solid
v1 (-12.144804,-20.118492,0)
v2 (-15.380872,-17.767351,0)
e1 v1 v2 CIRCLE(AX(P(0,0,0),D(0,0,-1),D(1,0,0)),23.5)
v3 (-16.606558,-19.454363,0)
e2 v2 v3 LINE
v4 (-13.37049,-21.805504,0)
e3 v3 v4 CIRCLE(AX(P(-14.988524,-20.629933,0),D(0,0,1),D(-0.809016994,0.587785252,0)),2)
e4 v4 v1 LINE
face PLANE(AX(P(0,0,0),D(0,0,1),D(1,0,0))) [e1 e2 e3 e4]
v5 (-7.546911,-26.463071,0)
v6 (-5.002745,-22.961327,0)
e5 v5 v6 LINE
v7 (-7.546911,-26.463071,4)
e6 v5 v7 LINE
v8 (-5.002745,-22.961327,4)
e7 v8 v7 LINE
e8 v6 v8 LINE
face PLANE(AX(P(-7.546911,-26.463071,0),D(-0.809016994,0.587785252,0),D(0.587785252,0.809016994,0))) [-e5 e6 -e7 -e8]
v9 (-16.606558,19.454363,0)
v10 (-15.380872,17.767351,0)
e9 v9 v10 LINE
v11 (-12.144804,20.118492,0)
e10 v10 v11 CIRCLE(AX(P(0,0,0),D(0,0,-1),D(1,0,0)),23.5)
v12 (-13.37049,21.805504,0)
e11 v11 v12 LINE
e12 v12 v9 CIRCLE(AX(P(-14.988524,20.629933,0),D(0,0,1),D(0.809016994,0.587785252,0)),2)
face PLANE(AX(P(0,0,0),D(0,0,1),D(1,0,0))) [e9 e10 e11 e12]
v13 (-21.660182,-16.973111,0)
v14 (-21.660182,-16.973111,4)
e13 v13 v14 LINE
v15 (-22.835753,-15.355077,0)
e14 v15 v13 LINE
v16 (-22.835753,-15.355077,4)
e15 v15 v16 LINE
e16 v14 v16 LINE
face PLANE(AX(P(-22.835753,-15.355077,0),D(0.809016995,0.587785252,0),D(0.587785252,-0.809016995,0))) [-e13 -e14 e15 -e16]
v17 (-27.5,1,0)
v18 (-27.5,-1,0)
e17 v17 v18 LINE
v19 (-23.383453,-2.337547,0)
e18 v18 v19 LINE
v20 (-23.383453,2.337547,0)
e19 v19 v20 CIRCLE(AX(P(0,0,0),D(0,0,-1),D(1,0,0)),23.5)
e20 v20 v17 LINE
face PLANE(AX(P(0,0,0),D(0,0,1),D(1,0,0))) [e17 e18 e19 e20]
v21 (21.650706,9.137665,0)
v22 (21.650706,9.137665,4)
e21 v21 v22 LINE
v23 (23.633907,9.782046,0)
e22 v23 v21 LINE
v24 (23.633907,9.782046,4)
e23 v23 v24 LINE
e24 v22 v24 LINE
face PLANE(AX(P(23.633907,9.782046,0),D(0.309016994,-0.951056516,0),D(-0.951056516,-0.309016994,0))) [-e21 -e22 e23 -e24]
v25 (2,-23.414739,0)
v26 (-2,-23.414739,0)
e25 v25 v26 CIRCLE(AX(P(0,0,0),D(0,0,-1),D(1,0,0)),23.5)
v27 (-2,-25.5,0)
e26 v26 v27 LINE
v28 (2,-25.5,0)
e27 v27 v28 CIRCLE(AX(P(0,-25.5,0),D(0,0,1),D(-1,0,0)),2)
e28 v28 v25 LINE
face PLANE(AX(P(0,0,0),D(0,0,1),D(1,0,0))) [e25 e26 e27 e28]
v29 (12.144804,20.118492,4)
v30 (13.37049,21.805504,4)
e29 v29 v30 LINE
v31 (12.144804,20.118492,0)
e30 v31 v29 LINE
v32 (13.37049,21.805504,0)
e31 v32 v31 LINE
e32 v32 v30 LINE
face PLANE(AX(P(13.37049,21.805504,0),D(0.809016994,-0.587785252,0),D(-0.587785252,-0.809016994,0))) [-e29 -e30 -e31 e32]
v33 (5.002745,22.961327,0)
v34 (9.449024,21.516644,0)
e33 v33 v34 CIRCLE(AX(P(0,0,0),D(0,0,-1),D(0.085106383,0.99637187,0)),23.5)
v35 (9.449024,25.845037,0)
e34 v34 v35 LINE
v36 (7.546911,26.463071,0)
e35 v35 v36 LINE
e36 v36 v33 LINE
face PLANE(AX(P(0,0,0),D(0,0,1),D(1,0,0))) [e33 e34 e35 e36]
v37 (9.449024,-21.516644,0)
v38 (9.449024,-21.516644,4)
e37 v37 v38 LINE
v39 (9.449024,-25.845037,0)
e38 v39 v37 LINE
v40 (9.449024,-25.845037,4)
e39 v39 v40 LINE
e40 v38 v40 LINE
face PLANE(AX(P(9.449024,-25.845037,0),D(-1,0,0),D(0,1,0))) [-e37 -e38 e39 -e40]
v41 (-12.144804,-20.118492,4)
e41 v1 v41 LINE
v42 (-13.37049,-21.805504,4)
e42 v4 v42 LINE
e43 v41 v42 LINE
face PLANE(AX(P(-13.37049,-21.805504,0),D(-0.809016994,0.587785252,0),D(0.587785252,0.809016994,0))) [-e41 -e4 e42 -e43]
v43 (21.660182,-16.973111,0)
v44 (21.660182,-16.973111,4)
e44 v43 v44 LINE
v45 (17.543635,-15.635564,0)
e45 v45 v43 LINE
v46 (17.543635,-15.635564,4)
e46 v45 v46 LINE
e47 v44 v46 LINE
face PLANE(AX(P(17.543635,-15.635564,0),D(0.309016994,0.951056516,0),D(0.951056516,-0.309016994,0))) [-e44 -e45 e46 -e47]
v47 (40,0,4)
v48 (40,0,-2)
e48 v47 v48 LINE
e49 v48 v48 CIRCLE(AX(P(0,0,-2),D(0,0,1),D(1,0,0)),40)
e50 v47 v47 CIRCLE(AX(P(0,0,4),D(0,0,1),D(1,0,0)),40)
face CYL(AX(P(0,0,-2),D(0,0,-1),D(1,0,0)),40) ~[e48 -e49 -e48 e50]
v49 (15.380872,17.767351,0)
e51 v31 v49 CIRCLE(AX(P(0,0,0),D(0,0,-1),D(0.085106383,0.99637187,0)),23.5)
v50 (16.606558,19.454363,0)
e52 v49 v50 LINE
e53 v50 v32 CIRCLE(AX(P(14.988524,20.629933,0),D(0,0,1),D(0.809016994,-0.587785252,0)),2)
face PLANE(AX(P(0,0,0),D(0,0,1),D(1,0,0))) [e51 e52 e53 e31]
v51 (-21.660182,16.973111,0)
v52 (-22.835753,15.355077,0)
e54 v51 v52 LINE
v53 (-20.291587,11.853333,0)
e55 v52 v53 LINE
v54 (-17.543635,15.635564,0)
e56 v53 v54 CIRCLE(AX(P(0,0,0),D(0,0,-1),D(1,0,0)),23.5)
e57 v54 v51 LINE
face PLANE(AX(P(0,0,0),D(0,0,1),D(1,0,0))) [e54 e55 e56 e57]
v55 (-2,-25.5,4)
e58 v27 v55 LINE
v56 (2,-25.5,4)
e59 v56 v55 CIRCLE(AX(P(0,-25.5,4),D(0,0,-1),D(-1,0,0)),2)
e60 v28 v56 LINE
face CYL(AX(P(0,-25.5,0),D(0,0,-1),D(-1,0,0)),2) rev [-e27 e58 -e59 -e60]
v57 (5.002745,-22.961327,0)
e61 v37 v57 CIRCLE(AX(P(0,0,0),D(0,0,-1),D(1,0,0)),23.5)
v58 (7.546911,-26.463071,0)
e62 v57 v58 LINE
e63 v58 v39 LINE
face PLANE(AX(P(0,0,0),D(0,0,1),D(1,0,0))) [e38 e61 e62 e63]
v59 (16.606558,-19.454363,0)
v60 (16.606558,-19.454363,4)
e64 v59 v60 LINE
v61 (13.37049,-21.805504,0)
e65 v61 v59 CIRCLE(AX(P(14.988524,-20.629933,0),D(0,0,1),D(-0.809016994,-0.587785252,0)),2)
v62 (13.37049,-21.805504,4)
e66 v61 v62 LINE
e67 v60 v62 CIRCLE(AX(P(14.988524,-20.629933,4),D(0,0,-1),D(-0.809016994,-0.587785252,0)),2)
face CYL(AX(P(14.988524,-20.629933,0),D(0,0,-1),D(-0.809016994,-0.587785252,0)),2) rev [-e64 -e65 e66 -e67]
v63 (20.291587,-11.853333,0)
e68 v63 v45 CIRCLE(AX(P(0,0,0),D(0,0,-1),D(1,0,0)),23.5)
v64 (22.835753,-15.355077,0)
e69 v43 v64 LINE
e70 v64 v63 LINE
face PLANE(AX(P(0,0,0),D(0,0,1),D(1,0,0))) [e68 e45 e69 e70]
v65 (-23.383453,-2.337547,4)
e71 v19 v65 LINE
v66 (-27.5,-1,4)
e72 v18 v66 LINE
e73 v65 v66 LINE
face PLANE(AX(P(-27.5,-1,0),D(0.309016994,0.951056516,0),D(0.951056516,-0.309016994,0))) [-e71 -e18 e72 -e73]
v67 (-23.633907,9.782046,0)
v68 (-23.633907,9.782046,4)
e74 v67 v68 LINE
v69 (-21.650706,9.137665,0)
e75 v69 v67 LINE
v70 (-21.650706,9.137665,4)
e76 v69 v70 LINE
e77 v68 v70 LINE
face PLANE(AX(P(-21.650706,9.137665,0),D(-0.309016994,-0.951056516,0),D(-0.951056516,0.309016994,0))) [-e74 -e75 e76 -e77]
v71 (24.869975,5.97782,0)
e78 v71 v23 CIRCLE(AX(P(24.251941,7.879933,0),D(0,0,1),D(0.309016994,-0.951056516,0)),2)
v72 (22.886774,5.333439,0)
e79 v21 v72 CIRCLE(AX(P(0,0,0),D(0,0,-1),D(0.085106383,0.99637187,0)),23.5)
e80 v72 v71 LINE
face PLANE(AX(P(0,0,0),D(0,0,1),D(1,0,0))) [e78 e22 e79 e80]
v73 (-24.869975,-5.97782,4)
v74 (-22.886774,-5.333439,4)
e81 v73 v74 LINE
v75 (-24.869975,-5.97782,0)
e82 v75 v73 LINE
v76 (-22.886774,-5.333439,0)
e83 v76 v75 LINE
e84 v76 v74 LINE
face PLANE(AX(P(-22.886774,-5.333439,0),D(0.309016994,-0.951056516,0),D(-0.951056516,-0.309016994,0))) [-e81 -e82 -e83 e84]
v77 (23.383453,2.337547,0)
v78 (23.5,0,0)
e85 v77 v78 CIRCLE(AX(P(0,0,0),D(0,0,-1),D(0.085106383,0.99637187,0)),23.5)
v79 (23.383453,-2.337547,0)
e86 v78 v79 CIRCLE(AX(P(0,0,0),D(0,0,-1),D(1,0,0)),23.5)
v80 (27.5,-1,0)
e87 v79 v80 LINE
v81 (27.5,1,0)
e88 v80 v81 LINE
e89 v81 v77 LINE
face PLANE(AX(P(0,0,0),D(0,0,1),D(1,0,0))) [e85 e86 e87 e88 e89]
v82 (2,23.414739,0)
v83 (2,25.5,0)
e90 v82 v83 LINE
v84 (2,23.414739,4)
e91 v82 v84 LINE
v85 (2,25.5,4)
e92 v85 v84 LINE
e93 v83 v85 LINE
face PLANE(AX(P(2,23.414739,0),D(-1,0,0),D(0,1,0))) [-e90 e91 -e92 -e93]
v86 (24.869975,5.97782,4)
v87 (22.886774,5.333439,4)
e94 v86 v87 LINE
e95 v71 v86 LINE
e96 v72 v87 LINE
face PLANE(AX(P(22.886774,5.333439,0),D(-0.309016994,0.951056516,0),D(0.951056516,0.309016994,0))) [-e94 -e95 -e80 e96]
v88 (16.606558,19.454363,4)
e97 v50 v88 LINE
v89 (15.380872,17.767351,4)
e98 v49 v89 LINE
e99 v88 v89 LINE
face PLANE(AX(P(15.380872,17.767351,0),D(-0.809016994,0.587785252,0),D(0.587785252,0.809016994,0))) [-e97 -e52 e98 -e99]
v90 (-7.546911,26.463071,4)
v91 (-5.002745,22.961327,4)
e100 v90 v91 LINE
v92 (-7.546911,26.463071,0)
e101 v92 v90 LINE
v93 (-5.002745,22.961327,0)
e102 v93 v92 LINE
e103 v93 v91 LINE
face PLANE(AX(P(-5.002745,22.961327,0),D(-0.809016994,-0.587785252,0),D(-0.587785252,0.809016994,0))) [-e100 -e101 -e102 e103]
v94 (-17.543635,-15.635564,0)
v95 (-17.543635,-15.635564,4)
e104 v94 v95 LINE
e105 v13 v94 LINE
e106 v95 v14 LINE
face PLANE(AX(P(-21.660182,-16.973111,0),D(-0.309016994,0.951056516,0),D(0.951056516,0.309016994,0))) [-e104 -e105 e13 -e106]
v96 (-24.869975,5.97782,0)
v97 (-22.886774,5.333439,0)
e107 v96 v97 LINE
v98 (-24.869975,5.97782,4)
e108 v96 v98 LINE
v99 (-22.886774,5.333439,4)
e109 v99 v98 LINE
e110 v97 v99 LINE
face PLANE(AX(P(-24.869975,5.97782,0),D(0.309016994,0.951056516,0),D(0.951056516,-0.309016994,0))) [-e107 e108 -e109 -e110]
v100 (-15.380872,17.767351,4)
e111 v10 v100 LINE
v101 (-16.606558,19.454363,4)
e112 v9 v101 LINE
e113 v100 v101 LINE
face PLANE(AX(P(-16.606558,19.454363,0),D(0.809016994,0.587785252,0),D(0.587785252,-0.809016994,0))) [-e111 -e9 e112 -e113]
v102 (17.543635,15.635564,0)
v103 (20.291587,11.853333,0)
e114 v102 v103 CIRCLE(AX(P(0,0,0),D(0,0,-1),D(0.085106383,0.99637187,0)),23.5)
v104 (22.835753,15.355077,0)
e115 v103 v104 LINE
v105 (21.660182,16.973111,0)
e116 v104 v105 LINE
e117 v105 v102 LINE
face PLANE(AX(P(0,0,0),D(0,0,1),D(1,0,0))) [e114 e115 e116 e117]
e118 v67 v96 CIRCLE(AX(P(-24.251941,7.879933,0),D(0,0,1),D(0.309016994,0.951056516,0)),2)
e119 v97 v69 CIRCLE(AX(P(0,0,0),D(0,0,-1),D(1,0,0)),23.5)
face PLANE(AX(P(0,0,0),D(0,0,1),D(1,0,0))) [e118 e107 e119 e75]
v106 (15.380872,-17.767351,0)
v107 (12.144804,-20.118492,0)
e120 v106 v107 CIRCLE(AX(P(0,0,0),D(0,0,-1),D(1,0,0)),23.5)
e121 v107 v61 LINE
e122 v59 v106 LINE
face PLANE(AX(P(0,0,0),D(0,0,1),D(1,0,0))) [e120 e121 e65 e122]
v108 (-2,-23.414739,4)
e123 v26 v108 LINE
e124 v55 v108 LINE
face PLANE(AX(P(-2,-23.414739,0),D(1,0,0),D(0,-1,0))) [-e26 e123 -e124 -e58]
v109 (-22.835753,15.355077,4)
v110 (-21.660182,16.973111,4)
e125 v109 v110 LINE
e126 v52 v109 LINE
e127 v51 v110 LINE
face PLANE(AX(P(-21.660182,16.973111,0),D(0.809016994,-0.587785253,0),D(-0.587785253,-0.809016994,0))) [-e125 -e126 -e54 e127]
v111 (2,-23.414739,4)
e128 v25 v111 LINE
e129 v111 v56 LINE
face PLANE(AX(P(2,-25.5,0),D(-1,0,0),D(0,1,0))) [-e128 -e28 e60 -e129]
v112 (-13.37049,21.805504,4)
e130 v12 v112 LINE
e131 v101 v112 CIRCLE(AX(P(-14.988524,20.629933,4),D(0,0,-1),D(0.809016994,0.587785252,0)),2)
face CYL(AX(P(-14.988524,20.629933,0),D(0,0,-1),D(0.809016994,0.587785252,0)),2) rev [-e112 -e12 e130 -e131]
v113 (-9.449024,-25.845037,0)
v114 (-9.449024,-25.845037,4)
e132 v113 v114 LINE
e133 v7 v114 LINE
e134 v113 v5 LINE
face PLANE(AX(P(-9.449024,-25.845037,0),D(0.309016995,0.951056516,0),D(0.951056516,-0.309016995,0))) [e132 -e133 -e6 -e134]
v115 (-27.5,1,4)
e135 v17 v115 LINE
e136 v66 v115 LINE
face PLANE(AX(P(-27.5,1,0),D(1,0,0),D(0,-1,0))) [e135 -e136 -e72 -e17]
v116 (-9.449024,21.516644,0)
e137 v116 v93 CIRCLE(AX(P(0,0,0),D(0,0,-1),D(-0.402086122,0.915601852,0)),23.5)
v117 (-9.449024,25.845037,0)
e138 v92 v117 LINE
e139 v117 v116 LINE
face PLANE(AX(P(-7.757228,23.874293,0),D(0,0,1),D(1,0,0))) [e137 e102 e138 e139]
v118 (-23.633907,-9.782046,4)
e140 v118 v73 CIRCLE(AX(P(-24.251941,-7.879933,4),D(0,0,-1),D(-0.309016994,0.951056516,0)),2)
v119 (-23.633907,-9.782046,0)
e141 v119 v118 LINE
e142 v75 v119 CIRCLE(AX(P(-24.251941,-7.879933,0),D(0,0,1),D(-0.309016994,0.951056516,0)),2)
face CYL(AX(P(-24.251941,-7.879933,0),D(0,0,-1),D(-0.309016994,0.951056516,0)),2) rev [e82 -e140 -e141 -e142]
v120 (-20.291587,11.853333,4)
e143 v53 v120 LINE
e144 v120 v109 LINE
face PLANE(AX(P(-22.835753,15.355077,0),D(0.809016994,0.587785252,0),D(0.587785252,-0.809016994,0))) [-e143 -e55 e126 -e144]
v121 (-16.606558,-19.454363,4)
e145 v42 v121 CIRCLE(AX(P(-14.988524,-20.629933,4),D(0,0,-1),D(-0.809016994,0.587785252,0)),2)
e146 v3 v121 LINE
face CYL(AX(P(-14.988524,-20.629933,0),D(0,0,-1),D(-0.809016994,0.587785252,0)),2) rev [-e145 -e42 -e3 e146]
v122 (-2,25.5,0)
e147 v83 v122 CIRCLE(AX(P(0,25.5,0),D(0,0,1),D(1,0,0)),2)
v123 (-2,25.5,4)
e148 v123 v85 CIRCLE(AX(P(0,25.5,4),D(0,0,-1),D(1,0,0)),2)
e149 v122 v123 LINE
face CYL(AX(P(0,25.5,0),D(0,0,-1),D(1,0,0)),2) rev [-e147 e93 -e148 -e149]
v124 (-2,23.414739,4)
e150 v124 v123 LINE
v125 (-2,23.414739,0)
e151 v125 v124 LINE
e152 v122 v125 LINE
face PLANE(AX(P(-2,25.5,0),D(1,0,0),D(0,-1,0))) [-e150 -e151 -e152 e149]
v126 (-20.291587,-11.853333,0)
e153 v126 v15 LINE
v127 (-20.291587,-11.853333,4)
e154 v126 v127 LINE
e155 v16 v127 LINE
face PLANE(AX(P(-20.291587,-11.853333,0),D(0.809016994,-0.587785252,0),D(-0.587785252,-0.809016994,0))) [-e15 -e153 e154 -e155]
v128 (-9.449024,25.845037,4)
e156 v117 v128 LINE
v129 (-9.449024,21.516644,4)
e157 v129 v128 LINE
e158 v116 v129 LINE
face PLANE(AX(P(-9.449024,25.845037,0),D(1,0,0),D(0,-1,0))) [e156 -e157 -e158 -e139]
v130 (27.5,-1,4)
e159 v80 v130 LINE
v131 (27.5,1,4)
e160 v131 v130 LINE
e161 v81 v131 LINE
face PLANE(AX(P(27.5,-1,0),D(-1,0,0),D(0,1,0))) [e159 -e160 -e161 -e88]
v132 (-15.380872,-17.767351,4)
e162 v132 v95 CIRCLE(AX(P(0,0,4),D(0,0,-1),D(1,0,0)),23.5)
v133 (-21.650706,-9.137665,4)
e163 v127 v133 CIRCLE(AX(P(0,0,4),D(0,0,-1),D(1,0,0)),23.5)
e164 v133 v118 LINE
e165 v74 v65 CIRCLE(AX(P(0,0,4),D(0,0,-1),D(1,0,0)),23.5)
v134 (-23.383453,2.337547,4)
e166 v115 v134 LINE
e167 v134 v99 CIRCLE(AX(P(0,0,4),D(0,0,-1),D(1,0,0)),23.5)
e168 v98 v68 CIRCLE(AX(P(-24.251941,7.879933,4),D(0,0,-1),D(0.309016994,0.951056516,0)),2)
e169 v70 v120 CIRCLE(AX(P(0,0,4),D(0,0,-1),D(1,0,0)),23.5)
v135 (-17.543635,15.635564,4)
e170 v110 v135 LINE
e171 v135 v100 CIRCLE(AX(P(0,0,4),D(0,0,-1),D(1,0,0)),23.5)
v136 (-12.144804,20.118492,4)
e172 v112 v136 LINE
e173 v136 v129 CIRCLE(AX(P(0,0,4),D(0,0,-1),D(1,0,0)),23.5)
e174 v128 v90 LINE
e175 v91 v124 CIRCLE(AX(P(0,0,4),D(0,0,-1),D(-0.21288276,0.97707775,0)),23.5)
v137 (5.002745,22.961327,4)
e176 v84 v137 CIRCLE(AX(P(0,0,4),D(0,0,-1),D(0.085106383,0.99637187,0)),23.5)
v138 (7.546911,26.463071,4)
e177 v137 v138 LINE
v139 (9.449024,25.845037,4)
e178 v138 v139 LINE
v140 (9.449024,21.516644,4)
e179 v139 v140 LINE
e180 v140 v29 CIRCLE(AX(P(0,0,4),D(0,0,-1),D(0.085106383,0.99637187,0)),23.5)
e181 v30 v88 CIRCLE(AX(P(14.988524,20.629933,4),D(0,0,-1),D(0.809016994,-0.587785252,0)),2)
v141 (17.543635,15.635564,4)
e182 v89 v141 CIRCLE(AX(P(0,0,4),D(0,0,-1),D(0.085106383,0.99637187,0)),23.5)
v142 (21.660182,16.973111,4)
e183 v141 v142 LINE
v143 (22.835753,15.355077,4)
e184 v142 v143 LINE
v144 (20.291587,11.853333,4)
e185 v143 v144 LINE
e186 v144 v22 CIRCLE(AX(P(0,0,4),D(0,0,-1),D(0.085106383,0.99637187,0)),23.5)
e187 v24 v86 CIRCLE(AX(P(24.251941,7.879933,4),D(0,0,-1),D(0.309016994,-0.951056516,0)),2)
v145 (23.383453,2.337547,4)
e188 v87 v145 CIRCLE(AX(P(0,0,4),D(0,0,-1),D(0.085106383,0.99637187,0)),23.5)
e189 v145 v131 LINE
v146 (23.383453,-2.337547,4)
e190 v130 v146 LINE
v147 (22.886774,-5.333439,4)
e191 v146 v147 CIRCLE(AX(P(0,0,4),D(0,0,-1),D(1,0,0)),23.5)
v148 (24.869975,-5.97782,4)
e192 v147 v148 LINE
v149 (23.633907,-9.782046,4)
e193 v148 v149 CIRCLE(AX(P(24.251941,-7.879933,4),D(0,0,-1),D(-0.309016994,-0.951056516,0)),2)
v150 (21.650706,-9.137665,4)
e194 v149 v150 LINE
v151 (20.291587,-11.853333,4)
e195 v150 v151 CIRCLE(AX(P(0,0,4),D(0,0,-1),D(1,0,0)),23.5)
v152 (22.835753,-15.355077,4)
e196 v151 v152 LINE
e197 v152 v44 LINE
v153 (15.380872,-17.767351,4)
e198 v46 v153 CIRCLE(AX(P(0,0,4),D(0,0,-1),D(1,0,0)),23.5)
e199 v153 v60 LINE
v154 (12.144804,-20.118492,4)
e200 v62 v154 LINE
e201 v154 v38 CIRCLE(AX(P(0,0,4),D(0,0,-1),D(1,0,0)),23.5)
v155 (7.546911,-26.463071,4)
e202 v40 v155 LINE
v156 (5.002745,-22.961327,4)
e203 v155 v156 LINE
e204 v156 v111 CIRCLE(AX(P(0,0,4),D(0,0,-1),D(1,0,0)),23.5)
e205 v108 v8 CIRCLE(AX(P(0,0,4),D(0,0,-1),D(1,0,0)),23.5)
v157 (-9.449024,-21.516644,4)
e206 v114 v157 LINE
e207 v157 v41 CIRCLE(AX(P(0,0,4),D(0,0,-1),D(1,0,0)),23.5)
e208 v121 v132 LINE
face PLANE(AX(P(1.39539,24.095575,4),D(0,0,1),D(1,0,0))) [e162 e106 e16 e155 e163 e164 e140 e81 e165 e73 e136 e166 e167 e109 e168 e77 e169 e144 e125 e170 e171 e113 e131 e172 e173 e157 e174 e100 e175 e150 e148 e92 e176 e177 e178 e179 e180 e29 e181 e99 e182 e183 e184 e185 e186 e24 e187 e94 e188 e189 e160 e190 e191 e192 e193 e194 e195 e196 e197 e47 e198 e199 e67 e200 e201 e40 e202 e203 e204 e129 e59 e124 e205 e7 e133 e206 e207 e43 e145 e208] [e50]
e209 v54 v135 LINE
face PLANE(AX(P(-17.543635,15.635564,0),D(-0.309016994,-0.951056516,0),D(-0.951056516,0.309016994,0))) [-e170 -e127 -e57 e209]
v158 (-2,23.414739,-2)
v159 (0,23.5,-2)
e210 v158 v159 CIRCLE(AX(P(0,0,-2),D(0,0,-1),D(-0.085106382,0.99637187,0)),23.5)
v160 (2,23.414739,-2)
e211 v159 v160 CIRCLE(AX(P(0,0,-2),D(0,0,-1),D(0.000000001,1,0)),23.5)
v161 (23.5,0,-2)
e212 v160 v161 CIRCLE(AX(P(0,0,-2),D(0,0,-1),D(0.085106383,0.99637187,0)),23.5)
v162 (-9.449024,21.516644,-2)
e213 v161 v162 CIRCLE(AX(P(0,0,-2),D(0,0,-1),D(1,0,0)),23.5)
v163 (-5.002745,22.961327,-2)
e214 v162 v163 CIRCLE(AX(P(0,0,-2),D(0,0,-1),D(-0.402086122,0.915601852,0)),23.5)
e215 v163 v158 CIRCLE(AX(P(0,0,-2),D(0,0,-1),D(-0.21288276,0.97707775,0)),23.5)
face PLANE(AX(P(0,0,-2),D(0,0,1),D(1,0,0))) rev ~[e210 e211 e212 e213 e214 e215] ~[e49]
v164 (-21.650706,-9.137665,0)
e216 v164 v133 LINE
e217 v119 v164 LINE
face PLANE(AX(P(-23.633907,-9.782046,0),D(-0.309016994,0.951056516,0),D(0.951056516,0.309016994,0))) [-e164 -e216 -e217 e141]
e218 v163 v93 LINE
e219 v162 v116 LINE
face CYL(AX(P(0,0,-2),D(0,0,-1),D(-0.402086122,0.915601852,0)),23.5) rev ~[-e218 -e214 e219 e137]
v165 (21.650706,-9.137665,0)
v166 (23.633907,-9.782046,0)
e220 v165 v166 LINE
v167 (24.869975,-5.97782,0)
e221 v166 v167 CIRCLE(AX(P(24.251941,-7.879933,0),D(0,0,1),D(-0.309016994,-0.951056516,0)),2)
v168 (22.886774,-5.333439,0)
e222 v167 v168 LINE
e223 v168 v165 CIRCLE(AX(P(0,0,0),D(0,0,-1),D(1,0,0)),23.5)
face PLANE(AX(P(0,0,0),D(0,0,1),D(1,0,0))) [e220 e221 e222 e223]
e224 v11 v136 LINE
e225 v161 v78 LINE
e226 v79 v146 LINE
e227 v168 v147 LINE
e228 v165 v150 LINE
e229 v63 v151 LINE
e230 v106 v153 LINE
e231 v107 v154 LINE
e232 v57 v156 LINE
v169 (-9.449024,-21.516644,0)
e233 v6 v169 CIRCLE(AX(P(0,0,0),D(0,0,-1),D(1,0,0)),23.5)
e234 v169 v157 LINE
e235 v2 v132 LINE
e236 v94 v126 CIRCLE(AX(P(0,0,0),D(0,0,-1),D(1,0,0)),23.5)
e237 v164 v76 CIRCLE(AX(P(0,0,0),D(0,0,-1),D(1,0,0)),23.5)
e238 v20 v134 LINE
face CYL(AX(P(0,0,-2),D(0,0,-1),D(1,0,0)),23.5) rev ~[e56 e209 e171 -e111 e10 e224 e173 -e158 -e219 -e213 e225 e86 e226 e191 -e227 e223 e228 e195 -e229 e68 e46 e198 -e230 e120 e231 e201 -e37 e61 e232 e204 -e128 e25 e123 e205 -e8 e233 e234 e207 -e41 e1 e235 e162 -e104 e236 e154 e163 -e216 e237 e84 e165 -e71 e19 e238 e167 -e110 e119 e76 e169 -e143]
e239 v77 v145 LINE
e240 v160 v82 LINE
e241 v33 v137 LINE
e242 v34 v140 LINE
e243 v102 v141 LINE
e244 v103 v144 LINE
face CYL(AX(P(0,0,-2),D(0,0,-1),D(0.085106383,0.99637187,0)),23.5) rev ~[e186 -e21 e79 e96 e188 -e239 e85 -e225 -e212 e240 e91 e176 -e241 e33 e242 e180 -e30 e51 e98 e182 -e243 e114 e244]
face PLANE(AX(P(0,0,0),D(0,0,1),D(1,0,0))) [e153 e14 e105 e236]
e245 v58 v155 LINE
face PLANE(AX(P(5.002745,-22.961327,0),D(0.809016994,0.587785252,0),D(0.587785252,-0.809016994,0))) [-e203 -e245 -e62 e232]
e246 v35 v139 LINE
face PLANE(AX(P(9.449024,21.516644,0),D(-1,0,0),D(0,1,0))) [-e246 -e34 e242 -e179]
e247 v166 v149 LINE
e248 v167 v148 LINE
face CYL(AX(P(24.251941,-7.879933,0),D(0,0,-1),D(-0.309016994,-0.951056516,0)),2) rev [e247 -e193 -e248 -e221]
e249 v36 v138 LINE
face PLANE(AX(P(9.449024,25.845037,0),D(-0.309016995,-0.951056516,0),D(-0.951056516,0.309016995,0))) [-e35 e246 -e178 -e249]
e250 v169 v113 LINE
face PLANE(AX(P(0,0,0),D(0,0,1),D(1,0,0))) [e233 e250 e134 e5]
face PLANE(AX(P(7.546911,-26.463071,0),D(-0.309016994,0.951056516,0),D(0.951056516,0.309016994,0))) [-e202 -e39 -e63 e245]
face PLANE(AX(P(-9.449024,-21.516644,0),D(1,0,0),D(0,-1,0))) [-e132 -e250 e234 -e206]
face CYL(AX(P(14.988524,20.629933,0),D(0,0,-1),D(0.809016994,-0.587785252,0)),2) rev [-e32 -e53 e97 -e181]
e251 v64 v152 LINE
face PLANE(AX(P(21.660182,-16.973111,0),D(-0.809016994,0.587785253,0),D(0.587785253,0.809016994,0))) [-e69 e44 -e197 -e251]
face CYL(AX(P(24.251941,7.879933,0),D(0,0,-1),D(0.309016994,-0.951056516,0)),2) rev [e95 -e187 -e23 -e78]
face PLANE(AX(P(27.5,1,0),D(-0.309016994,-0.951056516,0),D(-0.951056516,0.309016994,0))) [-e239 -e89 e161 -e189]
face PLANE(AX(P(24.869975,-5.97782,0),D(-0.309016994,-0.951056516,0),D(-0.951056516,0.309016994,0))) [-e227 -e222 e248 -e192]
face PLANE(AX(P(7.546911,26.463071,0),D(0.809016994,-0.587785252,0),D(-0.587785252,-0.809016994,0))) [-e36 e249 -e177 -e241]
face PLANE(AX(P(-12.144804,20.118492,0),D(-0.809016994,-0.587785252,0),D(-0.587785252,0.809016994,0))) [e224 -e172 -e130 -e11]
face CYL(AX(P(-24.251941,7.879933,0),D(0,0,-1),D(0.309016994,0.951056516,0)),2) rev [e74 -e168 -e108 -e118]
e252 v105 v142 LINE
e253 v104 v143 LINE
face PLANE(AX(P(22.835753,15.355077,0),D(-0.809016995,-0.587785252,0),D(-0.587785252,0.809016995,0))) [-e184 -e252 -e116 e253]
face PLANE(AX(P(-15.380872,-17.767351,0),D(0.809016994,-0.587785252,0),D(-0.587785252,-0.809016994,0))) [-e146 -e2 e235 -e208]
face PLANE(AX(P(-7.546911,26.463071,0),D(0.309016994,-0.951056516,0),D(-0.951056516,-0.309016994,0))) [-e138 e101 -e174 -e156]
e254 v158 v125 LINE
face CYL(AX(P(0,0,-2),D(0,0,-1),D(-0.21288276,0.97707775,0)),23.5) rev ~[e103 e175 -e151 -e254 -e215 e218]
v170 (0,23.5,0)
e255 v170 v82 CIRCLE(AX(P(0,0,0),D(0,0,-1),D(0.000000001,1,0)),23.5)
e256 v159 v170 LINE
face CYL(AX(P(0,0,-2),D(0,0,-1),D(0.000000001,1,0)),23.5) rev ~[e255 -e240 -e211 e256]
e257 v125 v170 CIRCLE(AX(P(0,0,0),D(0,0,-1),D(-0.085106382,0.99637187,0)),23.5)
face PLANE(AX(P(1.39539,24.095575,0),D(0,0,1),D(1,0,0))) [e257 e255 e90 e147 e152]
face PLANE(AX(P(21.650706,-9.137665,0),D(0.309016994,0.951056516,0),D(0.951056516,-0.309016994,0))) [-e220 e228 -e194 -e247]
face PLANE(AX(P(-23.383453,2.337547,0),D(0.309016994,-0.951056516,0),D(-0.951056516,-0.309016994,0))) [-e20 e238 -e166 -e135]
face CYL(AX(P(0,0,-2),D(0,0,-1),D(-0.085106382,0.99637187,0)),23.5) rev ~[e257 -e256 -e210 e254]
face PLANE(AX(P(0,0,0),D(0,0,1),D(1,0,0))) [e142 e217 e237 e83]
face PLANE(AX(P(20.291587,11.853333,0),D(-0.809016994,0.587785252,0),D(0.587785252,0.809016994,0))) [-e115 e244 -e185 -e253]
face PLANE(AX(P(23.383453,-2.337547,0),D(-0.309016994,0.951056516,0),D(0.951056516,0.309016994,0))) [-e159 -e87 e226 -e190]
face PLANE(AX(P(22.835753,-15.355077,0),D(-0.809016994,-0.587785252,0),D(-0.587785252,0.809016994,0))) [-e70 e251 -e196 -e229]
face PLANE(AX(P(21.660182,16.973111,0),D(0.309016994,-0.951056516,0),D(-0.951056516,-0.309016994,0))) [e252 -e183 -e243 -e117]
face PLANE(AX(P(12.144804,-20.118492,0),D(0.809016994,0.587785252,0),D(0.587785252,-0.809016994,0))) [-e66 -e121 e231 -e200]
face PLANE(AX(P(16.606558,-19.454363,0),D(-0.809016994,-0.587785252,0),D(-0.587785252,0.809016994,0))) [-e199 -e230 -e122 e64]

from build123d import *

# Parameters (mm, degrees)
SKETCH2_R           = 40
SKETCH2_R_2         = 23.5
BOSS_EXTRUDE1_DEPTH = 4
CUT_EXTRUDE2_DEPTH  = 10
CIRPATTERN1_COUNT   = 10
BOSS_EXTRUDE2_START = -2
SKETCH2_4_R         = 40
SKETCH2_4_R_2       = 23.5
BOSS_EXTRUDE2_DEPTH = 2


with BuildPart() as part:
    # Sketch2 → Boss-Extrude1 (new body)
    with BuildSketch(Plane.XY):
        Circle(SKETCH2_R)
        Circle(SKETCH2_R_2, mode=Mode.SUBTRACT)
    extrude(amount=BOSS_EXTRUDE1_DEPTH)

    # Sketch2<3> → Cut-Extrude2 (cut)
    with BuildSketch(Plane.XY):
        with BuildLine():
            Line((-7.546910829, 26.463071192), (-9.449023862, 25.845037204))
            Line((-9.449023862, 25.845037204), (-9.449023862, 21.516643513))
            ThreePointArc((-9.449023862, 21.516643513), (-7.261899368, 22.349828133), (-5.002744851, 22.961327138))
            Line((-5.002744851, 22.961327138), (-7.546910829, 26.463071192))
        make_face()
        with BuildLine():
            Line((-2, 25.5), (-2, 23.414738948))
            ThreePointArc((-2, 23.414738948), (0, 23.5), (2, 23.414738948))
            Line((2, 23.414738948), (2, 25.5))
            ThreePointArc((2, 25.5), (0, 27.5), (-2, 25.5))
        make_face()
    cut_extrude2 = extrude(amount=CUT_EXTRUDE2_DEPTH, mode=Mode.SUBTRACT)

    # CirPattern1: Cut-Extrude2 ×10 about axis
    cirpattern1_axis = Axis((0, 0, 0), (0, 0, 1))
    for i in range(1, CIRPATTERN1_COUNT):
        add(cut_extrude2.rotate(cirpattern1_axis, i * 360 / CIRPATTERN1_COUNT), mode=Mode.SUBTRACT)

    # Sketch2<4> → Boss-Extrude2 (add)
    with BuildSketch(Plane.XY.offset(BOSS_EXTRUDE2_START)):
        Circle(SKETCH2_4_R)
        Circle(SKETCH2_4_R_2, mode=Mode.SUBTRACT)
    extrude(amount=BOSS_EXTRUDE2_DEPTH)


solid = part.part
